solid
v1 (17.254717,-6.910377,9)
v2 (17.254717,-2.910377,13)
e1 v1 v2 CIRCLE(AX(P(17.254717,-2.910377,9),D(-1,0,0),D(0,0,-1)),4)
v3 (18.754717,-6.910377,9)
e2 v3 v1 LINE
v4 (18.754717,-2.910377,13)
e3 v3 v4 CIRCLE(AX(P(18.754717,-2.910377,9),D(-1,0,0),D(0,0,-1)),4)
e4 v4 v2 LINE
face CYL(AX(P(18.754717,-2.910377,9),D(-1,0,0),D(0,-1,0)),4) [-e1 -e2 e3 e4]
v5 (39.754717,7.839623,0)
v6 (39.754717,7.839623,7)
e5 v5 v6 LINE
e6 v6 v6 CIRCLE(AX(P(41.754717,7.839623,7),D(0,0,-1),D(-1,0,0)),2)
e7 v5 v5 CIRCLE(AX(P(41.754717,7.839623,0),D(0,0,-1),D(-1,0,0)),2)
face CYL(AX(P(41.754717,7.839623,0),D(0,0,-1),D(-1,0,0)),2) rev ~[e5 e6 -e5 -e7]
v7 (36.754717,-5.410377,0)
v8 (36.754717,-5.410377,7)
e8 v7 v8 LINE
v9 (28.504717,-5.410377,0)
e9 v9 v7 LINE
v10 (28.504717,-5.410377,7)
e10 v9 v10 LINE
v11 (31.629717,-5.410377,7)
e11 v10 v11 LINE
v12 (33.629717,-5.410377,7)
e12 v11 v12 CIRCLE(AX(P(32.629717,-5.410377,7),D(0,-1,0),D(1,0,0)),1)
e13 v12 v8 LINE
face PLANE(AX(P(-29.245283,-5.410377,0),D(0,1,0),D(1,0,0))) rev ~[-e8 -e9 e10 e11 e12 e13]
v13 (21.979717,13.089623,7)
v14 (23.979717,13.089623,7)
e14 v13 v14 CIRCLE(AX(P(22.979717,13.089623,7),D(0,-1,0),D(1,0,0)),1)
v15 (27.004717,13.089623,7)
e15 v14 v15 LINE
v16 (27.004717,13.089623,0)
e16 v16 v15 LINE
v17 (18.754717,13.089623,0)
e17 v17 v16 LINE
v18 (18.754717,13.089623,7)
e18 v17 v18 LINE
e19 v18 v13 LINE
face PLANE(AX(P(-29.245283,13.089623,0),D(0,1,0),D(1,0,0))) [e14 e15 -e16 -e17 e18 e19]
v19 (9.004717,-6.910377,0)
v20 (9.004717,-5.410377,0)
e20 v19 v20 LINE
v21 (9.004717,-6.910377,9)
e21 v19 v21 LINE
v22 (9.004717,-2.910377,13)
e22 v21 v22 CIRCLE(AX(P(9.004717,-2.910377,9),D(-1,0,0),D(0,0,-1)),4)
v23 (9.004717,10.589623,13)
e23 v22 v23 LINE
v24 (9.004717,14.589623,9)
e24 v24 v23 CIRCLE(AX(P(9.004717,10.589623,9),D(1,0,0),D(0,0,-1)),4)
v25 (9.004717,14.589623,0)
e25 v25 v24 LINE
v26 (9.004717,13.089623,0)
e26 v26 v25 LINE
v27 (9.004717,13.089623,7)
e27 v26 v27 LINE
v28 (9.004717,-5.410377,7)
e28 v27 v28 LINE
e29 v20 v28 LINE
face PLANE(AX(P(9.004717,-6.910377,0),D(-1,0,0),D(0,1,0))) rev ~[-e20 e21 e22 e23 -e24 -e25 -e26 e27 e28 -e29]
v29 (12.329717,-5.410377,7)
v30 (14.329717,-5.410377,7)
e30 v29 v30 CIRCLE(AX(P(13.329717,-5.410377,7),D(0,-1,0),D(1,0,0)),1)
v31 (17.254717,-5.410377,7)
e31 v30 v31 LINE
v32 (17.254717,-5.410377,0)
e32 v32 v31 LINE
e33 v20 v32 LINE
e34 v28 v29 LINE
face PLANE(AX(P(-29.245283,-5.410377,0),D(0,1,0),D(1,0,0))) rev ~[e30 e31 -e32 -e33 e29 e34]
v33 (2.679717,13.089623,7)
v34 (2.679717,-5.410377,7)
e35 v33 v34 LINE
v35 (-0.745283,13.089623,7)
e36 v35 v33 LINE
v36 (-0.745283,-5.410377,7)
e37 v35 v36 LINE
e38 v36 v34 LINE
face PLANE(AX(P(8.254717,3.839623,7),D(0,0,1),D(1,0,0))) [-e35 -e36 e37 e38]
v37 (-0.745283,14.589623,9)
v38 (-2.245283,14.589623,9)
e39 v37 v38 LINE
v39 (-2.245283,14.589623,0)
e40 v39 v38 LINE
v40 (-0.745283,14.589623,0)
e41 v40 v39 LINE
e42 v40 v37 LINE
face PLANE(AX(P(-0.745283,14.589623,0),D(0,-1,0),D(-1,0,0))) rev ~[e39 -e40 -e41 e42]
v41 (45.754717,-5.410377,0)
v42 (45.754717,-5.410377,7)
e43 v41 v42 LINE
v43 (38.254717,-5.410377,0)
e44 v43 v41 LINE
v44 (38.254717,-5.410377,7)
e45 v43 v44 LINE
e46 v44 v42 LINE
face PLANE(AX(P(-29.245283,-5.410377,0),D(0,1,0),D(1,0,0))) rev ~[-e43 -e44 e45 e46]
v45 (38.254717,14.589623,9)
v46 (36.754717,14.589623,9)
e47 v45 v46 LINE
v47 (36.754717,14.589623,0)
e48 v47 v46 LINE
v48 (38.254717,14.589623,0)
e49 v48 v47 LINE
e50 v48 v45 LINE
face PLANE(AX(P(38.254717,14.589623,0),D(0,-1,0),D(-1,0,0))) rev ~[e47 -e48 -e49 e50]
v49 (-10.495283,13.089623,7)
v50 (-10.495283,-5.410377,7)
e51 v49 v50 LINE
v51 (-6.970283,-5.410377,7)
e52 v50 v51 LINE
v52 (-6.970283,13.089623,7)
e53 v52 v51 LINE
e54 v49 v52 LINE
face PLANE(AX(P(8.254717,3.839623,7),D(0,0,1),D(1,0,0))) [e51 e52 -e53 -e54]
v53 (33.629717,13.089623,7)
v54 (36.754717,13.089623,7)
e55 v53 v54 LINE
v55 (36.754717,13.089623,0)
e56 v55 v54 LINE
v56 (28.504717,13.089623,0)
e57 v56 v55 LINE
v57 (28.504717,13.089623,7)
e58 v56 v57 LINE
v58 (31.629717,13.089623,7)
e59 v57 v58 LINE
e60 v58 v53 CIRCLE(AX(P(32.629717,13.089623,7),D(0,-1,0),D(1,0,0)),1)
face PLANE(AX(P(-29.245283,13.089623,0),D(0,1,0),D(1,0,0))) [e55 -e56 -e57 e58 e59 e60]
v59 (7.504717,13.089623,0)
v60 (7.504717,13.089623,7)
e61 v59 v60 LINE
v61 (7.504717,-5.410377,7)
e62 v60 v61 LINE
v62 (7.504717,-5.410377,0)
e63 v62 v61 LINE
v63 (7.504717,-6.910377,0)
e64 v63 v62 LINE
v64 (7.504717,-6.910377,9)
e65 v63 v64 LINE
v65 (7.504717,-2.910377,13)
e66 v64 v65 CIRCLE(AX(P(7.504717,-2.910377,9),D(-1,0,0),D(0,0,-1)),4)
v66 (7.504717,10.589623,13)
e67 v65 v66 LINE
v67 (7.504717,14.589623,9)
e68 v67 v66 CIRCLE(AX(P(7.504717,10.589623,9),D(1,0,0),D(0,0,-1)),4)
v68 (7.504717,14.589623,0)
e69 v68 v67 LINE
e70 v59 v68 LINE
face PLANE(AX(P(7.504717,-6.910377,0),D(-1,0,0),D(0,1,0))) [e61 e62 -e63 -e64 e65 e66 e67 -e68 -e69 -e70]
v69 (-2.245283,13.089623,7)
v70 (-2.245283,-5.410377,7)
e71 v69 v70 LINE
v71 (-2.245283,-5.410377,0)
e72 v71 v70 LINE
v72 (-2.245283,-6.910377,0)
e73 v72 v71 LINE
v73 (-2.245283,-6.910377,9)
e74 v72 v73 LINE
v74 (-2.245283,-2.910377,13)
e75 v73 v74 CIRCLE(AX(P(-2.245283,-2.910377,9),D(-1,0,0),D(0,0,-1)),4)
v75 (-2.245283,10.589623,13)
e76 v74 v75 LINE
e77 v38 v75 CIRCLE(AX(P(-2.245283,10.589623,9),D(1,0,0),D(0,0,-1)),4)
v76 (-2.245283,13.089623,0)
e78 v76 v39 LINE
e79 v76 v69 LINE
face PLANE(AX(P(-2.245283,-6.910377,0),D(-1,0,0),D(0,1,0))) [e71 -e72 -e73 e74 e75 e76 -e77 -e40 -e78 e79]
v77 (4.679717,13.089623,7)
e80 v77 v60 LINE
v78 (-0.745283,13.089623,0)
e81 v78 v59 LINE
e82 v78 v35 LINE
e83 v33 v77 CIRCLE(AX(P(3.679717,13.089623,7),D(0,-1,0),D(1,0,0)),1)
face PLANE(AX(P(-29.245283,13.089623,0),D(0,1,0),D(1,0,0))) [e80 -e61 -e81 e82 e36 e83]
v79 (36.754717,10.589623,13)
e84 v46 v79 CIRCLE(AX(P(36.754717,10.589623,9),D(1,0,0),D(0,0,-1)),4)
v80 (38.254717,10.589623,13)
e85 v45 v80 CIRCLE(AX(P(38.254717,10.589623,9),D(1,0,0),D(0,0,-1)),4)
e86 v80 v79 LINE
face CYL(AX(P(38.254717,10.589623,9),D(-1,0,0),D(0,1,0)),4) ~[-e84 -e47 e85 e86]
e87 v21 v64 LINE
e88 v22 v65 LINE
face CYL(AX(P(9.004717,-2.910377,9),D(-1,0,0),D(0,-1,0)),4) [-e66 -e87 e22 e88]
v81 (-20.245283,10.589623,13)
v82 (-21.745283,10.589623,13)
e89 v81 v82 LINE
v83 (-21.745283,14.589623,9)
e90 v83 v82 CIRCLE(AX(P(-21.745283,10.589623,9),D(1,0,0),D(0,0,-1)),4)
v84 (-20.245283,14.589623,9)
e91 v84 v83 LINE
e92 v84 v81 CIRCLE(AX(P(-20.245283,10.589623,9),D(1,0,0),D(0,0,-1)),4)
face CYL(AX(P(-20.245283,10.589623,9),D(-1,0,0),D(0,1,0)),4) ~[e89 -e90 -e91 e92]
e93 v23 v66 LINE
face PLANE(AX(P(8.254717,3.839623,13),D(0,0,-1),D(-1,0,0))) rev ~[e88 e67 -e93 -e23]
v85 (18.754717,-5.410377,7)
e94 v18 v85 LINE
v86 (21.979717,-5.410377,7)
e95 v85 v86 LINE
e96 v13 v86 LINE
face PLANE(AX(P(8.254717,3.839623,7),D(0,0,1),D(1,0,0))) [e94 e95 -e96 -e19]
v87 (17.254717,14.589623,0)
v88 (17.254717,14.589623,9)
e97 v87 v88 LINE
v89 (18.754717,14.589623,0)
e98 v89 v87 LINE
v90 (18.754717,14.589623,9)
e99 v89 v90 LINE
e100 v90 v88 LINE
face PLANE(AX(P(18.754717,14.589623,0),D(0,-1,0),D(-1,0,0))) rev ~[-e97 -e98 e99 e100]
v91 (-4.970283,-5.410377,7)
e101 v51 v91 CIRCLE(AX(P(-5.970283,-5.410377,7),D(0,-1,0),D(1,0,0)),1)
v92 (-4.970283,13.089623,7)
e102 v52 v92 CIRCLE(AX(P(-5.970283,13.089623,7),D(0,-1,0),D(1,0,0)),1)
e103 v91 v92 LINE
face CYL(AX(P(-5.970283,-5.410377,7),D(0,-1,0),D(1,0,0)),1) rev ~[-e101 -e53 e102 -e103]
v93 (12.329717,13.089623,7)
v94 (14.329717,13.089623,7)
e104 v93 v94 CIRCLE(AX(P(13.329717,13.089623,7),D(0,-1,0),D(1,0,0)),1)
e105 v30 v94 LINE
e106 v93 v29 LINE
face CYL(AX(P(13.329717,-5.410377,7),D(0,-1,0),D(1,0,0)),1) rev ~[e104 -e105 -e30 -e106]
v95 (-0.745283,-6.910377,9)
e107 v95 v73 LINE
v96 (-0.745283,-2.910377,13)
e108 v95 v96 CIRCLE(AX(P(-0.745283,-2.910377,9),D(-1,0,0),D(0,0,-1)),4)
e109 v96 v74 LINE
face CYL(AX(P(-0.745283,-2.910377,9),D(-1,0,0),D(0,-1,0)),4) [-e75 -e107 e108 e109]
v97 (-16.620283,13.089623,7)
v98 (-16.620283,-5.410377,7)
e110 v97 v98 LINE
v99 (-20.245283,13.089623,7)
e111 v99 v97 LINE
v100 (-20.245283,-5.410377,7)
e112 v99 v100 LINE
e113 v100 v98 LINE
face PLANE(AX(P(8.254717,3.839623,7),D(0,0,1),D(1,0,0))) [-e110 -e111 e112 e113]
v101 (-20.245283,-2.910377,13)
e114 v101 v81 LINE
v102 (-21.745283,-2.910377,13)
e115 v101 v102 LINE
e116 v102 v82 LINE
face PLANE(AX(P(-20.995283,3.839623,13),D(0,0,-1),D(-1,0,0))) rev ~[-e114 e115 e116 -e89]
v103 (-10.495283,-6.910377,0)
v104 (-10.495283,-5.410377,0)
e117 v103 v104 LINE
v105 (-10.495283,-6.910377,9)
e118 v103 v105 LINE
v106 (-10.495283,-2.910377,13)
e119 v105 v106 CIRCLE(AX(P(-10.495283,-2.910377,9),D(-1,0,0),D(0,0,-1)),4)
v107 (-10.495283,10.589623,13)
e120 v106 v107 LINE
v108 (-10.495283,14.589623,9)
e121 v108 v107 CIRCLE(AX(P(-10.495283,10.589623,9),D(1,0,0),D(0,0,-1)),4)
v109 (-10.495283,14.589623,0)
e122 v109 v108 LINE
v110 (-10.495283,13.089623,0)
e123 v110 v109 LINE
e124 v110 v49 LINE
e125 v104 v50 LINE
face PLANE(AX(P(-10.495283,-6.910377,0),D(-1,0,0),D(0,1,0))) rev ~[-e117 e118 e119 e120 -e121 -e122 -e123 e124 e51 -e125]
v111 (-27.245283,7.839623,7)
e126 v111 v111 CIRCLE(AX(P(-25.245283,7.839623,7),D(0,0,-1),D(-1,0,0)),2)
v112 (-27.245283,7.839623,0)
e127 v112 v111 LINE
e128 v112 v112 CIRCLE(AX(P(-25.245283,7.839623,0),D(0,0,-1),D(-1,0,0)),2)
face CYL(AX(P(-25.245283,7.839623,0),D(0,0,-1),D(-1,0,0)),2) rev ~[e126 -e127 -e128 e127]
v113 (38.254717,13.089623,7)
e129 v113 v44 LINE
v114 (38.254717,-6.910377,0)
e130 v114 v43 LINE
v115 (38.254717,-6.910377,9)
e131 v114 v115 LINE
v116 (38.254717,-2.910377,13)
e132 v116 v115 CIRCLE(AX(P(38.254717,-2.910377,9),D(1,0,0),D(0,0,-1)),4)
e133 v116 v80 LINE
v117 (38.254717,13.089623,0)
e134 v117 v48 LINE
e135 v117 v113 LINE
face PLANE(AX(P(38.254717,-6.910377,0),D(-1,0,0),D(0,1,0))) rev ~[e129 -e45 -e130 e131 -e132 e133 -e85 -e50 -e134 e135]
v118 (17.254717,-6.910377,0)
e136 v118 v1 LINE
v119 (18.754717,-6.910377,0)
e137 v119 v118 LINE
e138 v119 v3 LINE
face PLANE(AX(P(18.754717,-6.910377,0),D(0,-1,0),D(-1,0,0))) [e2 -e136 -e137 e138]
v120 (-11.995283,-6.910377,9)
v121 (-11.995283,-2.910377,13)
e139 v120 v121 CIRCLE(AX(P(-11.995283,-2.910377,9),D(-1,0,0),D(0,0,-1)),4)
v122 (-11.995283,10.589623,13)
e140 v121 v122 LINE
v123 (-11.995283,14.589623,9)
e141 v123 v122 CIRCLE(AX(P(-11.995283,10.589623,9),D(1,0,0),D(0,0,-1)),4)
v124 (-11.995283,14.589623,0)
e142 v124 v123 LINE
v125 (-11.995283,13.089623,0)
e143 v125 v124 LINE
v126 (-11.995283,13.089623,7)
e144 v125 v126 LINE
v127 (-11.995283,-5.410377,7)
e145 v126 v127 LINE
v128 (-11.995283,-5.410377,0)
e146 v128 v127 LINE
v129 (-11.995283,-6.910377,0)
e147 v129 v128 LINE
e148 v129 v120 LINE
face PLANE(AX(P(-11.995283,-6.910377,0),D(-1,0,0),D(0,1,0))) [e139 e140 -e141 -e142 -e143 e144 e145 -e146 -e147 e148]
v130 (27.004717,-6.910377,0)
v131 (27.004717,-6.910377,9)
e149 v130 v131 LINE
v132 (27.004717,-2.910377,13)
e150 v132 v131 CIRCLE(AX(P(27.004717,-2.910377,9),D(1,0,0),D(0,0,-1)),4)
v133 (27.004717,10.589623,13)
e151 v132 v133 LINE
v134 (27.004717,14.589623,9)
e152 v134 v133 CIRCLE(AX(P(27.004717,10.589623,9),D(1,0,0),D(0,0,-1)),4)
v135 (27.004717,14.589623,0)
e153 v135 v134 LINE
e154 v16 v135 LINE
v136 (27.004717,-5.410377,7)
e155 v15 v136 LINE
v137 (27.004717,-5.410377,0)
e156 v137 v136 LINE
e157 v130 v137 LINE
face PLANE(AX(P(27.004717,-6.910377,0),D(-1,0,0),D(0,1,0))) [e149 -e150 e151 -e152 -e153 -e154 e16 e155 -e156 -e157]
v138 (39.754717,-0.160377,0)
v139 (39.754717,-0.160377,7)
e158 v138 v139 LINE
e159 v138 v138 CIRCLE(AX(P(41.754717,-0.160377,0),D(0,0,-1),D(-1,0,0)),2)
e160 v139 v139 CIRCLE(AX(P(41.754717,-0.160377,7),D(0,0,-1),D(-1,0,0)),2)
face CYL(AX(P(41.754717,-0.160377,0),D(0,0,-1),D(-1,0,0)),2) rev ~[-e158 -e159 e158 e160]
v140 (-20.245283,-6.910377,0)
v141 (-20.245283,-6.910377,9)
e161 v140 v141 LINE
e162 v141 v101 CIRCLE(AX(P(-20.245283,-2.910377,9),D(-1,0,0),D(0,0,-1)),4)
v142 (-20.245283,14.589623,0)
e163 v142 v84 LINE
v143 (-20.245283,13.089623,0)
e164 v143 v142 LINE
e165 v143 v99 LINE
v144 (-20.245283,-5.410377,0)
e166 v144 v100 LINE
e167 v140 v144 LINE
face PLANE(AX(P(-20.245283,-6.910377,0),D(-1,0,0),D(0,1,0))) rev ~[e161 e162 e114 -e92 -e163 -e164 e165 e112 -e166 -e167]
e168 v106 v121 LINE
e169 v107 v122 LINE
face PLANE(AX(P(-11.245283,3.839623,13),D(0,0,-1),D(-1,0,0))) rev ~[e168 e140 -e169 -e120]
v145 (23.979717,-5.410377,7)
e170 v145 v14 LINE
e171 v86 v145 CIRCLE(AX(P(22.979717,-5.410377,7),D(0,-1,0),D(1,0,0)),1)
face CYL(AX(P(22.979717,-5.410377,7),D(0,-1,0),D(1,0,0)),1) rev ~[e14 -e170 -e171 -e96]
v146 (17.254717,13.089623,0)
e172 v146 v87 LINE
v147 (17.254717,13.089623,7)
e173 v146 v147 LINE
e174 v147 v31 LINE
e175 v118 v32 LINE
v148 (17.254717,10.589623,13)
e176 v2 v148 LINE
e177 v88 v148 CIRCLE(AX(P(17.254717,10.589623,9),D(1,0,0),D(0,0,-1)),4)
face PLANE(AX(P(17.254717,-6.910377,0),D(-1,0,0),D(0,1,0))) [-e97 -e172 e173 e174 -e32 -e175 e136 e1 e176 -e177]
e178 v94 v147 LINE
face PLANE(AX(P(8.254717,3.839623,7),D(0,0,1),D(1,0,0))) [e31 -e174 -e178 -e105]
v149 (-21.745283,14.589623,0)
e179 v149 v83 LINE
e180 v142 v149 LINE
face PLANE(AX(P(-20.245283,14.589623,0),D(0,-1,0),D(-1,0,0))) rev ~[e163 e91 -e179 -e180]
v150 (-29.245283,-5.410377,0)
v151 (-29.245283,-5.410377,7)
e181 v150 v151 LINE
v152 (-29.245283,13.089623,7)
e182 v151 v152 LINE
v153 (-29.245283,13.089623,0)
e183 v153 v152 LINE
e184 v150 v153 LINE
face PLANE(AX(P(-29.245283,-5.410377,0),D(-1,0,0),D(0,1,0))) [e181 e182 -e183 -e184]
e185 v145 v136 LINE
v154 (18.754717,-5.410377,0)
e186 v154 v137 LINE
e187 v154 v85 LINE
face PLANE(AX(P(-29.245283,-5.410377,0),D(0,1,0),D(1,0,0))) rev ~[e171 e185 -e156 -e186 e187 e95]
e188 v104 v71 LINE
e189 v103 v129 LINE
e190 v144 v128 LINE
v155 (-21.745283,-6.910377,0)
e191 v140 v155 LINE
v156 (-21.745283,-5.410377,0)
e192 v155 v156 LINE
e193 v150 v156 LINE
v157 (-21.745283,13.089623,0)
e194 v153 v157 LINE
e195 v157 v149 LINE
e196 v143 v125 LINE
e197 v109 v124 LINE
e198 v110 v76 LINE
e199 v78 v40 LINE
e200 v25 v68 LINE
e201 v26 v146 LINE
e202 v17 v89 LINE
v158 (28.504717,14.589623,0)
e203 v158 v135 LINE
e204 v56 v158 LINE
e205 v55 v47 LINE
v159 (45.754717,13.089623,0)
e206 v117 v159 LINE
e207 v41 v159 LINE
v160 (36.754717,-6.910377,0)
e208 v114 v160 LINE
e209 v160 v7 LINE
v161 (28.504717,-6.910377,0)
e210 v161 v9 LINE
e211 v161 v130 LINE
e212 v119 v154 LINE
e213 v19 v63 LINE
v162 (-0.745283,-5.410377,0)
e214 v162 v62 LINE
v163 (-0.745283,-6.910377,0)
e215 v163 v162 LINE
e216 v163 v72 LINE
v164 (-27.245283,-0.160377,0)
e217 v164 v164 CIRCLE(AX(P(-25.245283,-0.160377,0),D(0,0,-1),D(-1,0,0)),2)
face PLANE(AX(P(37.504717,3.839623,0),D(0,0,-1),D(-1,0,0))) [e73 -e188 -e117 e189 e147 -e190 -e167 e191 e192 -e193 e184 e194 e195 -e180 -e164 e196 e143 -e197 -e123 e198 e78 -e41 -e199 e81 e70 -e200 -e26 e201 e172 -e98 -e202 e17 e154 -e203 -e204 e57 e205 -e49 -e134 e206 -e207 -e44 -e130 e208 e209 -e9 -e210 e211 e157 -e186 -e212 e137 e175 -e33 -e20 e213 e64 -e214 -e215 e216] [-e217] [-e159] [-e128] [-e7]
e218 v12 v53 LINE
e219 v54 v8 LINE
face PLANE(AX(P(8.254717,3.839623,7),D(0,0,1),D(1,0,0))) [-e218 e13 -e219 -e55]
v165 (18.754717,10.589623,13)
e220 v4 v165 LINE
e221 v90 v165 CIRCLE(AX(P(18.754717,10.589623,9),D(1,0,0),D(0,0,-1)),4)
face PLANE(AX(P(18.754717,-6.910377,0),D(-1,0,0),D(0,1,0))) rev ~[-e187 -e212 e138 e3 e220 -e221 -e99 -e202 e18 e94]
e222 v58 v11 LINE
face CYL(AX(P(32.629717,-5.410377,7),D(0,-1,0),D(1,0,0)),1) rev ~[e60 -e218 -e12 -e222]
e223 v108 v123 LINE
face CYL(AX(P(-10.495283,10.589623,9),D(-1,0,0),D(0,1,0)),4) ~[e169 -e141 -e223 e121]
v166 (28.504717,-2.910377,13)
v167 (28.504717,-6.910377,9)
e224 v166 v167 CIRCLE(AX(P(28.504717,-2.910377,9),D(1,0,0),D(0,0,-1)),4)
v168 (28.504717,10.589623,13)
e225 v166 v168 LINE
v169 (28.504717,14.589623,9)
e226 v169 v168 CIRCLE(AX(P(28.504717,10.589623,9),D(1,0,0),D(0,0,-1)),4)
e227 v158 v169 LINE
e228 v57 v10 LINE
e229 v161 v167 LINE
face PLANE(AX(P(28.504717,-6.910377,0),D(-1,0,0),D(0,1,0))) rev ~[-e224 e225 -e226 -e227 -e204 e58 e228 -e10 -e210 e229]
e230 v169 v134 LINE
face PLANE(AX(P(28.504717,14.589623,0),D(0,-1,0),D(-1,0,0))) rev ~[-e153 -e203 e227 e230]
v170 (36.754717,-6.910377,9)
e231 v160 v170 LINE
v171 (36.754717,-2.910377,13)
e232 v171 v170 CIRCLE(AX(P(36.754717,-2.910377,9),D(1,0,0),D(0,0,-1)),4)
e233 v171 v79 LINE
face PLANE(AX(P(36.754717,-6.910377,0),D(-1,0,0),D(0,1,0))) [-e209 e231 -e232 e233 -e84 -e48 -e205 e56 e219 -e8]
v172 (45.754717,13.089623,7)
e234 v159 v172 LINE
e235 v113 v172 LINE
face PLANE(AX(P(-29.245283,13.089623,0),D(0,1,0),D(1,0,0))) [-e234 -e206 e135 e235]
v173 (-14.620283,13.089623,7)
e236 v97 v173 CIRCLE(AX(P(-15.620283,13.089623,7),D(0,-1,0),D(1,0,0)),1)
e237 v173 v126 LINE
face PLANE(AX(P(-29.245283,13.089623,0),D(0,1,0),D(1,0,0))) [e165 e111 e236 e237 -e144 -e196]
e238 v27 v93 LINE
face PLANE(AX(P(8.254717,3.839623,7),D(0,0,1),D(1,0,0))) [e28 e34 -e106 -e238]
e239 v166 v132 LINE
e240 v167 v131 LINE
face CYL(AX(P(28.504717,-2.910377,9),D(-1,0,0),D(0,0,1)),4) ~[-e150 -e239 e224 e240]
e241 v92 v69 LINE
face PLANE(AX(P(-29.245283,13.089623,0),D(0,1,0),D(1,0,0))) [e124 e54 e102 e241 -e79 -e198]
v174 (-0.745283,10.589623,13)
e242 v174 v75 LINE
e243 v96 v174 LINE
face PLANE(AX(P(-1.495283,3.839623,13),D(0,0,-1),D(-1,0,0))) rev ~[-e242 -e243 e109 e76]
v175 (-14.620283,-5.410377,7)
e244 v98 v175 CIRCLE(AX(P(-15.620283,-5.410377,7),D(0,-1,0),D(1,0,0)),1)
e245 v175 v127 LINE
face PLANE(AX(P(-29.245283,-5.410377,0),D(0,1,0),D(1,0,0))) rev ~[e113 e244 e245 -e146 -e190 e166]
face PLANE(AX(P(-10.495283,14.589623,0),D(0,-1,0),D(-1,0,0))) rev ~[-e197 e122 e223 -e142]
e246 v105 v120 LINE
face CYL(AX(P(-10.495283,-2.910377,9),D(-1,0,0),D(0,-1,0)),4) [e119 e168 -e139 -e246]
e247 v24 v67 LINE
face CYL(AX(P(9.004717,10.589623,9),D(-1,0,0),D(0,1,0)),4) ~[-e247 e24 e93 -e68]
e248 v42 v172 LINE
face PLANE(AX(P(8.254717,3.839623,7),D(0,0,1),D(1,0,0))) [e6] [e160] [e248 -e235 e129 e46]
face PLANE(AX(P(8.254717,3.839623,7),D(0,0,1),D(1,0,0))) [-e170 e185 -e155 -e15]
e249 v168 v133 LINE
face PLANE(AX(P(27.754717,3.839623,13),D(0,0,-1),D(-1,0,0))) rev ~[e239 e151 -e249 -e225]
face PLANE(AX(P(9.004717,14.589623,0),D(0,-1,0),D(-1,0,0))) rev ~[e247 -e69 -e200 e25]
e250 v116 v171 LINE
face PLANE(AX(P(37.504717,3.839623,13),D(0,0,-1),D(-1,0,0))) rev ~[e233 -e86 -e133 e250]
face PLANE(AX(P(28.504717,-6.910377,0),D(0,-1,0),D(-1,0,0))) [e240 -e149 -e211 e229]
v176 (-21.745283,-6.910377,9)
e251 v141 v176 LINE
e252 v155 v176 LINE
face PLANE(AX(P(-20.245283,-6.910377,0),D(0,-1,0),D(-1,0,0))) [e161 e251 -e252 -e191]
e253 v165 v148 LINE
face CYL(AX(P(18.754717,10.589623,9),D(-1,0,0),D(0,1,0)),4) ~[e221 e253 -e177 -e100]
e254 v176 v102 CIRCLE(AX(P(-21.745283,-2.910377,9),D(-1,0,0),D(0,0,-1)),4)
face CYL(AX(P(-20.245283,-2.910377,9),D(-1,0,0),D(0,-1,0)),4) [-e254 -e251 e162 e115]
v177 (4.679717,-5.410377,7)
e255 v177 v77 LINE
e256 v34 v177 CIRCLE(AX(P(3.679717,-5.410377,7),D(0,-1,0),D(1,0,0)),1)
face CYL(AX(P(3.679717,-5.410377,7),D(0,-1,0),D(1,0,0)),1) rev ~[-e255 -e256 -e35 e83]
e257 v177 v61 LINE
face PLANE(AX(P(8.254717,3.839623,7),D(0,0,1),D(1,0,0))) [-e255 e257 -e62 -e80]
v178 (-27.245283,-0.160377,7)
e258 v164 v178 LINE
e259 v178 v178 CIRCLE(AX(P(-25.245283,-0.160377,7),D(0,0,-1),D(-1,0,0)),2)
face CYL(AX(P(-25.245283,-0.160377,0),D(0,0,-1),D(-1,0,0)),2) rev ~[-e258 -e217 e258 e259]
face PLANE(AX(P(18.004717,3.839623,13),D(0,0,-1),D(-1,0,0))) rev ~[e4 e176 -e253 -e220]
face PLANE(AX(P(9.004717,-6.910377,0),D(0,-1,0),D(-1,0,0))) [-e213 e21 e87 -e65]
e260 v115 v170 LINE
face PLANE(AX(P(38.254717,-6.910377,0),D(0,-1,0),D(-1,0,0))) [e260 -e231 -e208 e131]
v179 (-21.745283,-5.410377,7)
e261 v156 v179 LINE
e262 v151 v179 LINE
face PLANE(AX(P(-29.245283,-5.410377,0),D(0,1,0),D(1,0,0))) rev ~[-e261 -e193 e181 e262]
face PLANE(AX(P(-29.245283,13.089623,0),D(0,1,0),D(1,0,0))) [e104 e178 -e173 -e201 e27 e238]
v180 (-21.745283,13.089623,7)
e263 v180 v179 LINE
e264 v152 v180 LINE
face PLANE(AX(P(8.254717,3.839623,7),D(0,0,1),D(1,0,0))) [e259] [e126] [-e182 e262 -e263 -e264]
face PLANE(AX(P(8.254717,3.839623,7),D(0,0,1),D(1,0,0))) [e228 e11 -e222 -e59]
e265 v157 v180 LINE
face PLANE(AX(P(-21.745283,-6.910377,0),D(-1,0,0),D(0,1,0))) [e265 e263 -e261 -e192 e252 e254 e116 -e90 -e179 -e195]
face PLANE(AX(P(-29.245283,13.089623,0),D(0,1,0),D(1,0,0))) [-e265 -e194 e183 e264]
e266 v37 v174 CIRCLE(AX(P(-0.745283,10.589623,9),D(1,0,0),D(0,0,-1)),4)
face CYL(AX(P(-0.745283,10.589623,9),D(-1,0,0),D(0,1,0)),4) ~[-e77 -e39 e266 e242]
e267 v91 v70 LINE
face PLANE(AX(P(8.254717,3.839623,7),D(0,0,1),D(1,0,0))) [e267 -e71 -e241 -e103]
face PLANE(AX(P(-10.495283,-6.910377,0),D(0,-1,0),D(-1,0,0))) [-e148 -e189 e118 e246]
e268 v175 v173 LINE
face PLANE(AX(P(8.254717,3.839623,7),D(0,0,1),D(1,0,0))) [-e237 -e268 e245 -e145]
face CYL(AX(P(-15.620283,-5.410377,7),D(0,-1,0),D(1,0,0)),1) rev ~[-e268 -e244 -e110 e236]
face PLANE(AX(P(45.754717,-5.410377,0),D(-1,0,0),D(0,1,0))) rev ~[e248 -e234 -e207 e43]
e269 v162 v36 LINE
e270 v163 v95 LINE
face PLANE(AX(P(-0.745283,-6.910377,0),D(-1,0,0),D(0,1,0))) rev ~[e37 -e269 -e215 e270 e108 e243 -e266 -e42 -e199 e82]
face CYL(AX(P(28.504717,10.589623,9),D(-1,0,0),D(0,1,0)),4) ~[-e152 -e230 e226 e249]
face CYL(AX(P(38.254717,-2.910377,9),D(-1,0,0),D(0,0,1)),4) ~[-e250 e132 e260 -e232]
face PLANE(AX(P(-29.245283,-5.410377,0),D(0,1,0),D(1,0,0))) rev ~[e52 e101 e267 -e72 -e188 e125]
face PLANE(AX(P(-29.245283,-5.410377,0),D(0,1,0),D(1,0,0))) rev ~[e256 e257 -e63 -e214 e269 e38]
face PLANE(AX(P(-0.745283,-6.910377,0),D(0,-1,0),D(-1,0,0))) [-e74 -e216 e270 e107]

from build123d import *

# Parameters (mm, degrees)
ESQUISSE1_W                = 75
ESQUISSE1_H                = 18.5
BOSS_EXTRU_1_DEPTH         = 7
ENL_V_MAT_EXTRU_1_REACH    = 9
ESQUISSE2_R                = 2
ESQUISSE3_W                = 1.5
ESQUISSE3_H                = 21.5
BOSS_EXTRU_2_DEPTH         = 13
CONG_1_R                   = 4
ESQUISSE4_R                = 1
ENL_V_MAT_EXTRU_2_DEPTH    = 18.5
R_P_TITION_LIN_AIRE1_COUNT = 6
R_P_TITION_LIN_AIRE1_PITCH = 9.65


with BuildPart() as part:
    # Esquisse1 → Boss.-Extru.1 (new body)
    with BuildSketch(Plane.XY):
        with Locations((8.254716981, 3.839622642)):
            Rectangle(ESQUISSE1_W, ESQUISSE1_H)
    extrude(amount=BOSS_EXTRU_1_DEPTH)

    # Esquisse2 → Enlèv. mat.-Extru.1 (cut, up to next)
    with BuildSketch(Plane(origin=(0, 0, 0), x_dir=(-1, 0, 0), z_dir=(0, 0, -1)), mode=Mode.PRIVATE) as enl_v_mat_extru_1_sk1:
        with Locations((-41.754716981, 7.839622642)):
            Circle(ESQUISSE2_R)
    enl_v_mat_extru_1_tool1 = extrude(enl_v_mat_extru_1_sk1.sketch, amount=-ENL_V_MAT_EXTRU_1_REACH, mode=Mode.PRIVATE) & part.part
    add(enl_v_mat_extru_1_tool1.solids().sort_by_distance((41.754717, 7.839623, 0))[0], mode=Mode.SUBTRACT)
    # Esquisse2 → Enlèv. mat.-Extru.1 (cut, up to next)
    with BuildSketch(Plane(origin=(0, 0, 0), x_dir=(-1, 0, 0), z_dir=(0, 0, -1)), mode=Mode.PRIVATE) as enl_v_mat_extru_1_sk2:
        with Locations((-41.754716981, -0.160377358)):
            Circle(ESQUISSE2_R)
    enl_v_mat_extru_1_tool2 = extrude(enl_v_mat_extru_1_sk2.sketch, amount=-ENL_V_MAT_EXTRU_1_REACH, mode=Mode.PRIVATE) & part.part
    add(enl_v_mat_extru_1_tool2.solids().sort_by_distance((41.754717, -0.160377, 0))[0], mode=Mode.SUBTRACT)
    # Esquisse2 → Enlèv. mat.-Extru.1 (cut, up to next)
    with BuildSketch(Plane(origin=(0, 0, 0), x_dir=(-1, 0, 0), z_dir=(0, 0, -1)), mode=Mode.PRIVATE) as enl_v_mat_extru_1_sk3:
        with Locations((25.245283019, -0.160377358)):
            Circle(ESQUISSE2_R)
    enl_v_mat_extru_1_tool3 = extrude(enl_v_mat_extru_1_sk3.sketch, amount=-ENL_V_MAT_EXTRU_1_REACH, mode=Mode.PRIVATE) & part.part
    add(enl_v_mat_extru_1_tool3.solids().sort_by_distance((-25.245283, -0.160377, 0))[0], mode=Mode.SUBTRACT)
    # Esquisse2 → Enlèv. mat.-Extru.1 (cut, up to next)
    with BuildSketch(Plane(origin=(0, 0, 0), x_dir=(-1, 0, 0), z_dir=(0, 0, -1)), mode=Mode.PRIVATE) as enl_v_mat_extru_1_sk4:
        with Locations((25.245283019, 7.839622642)):
            Circle(ESQUISSE2_R)
    enl_v_mat_extru_1_tool4 = extrude(enl_v_mat_extru_1_sk4.sketch, amount=-ENL_V_MAT_EXTRU_1_REACH, mode=Mode.PRIVATE) & part.part
    add(enl_v_mat_extru_1_tool4.solids().sort_by_distance((-25.245283, 7.839623, 0))[0], mode=Mode.SUBTRACT)

    # Esquisse3 → Boss.-Extru.2 (add)
    with BuildSketch(Plane(origin=(0, 0, 0), x_dir=(-1, 0, 0), z_dir=(0, 0, -1))):
        with Locations((-37.504716981, 3.839622642)):
            Rectangle(ESQUISSE3_W, ESQUISSE3_H)
        with Locations((-27.754716981, 3.839622642)):
            Rectangle(ESQUISSE3_W, ESQUISSE3_H)
        with Locations((-18.004716981, 3.839622642)):
            Rectangle(ESQUISSE3_W, ESQUISSE3_H)
        with Locations((-8.254716981, 3.839622642)):
            Rectangle(ESQUISSE3_W, ESQUISSE3_H)
        with Locations((1.495283019, 3.839622642)):
            Rectangle(ESQUISSE3_W, ESQUISSE3_H)
        with Locations((11.245283019, 3.839622642)):
            Rectangle(ESQUISSE3_W, ESQUISSE3_H)
        with Locations((20.995283019, 3.839622642)):
            Rectangle(ESQUISSE3_W, ESQUISSE3_H)
    extrude(amount=-BOSS_EXTRU_2_DEPTH)

    # Congé1
    cong_1_edges = [part.edges().sort_by_distance(p)[0] for p in [
        (8.254716981, -6.910377358, 13),
        (8.254716981, 14.589622642, 13),
        (-1.495283019, -6.910377358, 13),
        (-1.495283019, 14.589622642, 13),
        (-11.245283019, -6.910377358, 13),
        (-11.245283019, 14.589622642, 13),
        (-20.995283019, -6.910377358, 13),
        (-20.995283019, 14.589622642, 13),
        (37.504716981, 14.589622642, 13),
        (37.504716981, -6.910377358, 13),
        (27.754716981, -6.910377358, 13),
        (27.754716981, 14.589622642, 13),
        (18.004716981, -6.910377358, 13),
        (18.004716981, 14.589622642, 13),
    ]]
    fillet(cong_1_edges, radius=CONG_1_R)

    # Esquisse4 → Enlèv. mat.-Extru.2 (cut)
    with BuildSketch(Plane.XZ.offset(5.410377358)):
        with Locations((32.629716981, 7)):
            Circle(ESQUISSE4_R)
    enl_v_mat_extru_2 = extrude(amount=-ENL_V_MAT_EXTRU_2_DEPTH, mode=Mode.SUBTRACT)

    # Répétition linéaire1: Enlèv. mat.-Extru.2 ×6
    with Locations(*[(-i * R_P_TITION_LIN_AIRE1_PITCH, 0, 0) for i in range(1, R_P_TITION_LIN_AIRE1_COUNT)]):
        add(enl_v_mat_extru_2, mode=Mode.SUBTRACT)


solid = part.part
